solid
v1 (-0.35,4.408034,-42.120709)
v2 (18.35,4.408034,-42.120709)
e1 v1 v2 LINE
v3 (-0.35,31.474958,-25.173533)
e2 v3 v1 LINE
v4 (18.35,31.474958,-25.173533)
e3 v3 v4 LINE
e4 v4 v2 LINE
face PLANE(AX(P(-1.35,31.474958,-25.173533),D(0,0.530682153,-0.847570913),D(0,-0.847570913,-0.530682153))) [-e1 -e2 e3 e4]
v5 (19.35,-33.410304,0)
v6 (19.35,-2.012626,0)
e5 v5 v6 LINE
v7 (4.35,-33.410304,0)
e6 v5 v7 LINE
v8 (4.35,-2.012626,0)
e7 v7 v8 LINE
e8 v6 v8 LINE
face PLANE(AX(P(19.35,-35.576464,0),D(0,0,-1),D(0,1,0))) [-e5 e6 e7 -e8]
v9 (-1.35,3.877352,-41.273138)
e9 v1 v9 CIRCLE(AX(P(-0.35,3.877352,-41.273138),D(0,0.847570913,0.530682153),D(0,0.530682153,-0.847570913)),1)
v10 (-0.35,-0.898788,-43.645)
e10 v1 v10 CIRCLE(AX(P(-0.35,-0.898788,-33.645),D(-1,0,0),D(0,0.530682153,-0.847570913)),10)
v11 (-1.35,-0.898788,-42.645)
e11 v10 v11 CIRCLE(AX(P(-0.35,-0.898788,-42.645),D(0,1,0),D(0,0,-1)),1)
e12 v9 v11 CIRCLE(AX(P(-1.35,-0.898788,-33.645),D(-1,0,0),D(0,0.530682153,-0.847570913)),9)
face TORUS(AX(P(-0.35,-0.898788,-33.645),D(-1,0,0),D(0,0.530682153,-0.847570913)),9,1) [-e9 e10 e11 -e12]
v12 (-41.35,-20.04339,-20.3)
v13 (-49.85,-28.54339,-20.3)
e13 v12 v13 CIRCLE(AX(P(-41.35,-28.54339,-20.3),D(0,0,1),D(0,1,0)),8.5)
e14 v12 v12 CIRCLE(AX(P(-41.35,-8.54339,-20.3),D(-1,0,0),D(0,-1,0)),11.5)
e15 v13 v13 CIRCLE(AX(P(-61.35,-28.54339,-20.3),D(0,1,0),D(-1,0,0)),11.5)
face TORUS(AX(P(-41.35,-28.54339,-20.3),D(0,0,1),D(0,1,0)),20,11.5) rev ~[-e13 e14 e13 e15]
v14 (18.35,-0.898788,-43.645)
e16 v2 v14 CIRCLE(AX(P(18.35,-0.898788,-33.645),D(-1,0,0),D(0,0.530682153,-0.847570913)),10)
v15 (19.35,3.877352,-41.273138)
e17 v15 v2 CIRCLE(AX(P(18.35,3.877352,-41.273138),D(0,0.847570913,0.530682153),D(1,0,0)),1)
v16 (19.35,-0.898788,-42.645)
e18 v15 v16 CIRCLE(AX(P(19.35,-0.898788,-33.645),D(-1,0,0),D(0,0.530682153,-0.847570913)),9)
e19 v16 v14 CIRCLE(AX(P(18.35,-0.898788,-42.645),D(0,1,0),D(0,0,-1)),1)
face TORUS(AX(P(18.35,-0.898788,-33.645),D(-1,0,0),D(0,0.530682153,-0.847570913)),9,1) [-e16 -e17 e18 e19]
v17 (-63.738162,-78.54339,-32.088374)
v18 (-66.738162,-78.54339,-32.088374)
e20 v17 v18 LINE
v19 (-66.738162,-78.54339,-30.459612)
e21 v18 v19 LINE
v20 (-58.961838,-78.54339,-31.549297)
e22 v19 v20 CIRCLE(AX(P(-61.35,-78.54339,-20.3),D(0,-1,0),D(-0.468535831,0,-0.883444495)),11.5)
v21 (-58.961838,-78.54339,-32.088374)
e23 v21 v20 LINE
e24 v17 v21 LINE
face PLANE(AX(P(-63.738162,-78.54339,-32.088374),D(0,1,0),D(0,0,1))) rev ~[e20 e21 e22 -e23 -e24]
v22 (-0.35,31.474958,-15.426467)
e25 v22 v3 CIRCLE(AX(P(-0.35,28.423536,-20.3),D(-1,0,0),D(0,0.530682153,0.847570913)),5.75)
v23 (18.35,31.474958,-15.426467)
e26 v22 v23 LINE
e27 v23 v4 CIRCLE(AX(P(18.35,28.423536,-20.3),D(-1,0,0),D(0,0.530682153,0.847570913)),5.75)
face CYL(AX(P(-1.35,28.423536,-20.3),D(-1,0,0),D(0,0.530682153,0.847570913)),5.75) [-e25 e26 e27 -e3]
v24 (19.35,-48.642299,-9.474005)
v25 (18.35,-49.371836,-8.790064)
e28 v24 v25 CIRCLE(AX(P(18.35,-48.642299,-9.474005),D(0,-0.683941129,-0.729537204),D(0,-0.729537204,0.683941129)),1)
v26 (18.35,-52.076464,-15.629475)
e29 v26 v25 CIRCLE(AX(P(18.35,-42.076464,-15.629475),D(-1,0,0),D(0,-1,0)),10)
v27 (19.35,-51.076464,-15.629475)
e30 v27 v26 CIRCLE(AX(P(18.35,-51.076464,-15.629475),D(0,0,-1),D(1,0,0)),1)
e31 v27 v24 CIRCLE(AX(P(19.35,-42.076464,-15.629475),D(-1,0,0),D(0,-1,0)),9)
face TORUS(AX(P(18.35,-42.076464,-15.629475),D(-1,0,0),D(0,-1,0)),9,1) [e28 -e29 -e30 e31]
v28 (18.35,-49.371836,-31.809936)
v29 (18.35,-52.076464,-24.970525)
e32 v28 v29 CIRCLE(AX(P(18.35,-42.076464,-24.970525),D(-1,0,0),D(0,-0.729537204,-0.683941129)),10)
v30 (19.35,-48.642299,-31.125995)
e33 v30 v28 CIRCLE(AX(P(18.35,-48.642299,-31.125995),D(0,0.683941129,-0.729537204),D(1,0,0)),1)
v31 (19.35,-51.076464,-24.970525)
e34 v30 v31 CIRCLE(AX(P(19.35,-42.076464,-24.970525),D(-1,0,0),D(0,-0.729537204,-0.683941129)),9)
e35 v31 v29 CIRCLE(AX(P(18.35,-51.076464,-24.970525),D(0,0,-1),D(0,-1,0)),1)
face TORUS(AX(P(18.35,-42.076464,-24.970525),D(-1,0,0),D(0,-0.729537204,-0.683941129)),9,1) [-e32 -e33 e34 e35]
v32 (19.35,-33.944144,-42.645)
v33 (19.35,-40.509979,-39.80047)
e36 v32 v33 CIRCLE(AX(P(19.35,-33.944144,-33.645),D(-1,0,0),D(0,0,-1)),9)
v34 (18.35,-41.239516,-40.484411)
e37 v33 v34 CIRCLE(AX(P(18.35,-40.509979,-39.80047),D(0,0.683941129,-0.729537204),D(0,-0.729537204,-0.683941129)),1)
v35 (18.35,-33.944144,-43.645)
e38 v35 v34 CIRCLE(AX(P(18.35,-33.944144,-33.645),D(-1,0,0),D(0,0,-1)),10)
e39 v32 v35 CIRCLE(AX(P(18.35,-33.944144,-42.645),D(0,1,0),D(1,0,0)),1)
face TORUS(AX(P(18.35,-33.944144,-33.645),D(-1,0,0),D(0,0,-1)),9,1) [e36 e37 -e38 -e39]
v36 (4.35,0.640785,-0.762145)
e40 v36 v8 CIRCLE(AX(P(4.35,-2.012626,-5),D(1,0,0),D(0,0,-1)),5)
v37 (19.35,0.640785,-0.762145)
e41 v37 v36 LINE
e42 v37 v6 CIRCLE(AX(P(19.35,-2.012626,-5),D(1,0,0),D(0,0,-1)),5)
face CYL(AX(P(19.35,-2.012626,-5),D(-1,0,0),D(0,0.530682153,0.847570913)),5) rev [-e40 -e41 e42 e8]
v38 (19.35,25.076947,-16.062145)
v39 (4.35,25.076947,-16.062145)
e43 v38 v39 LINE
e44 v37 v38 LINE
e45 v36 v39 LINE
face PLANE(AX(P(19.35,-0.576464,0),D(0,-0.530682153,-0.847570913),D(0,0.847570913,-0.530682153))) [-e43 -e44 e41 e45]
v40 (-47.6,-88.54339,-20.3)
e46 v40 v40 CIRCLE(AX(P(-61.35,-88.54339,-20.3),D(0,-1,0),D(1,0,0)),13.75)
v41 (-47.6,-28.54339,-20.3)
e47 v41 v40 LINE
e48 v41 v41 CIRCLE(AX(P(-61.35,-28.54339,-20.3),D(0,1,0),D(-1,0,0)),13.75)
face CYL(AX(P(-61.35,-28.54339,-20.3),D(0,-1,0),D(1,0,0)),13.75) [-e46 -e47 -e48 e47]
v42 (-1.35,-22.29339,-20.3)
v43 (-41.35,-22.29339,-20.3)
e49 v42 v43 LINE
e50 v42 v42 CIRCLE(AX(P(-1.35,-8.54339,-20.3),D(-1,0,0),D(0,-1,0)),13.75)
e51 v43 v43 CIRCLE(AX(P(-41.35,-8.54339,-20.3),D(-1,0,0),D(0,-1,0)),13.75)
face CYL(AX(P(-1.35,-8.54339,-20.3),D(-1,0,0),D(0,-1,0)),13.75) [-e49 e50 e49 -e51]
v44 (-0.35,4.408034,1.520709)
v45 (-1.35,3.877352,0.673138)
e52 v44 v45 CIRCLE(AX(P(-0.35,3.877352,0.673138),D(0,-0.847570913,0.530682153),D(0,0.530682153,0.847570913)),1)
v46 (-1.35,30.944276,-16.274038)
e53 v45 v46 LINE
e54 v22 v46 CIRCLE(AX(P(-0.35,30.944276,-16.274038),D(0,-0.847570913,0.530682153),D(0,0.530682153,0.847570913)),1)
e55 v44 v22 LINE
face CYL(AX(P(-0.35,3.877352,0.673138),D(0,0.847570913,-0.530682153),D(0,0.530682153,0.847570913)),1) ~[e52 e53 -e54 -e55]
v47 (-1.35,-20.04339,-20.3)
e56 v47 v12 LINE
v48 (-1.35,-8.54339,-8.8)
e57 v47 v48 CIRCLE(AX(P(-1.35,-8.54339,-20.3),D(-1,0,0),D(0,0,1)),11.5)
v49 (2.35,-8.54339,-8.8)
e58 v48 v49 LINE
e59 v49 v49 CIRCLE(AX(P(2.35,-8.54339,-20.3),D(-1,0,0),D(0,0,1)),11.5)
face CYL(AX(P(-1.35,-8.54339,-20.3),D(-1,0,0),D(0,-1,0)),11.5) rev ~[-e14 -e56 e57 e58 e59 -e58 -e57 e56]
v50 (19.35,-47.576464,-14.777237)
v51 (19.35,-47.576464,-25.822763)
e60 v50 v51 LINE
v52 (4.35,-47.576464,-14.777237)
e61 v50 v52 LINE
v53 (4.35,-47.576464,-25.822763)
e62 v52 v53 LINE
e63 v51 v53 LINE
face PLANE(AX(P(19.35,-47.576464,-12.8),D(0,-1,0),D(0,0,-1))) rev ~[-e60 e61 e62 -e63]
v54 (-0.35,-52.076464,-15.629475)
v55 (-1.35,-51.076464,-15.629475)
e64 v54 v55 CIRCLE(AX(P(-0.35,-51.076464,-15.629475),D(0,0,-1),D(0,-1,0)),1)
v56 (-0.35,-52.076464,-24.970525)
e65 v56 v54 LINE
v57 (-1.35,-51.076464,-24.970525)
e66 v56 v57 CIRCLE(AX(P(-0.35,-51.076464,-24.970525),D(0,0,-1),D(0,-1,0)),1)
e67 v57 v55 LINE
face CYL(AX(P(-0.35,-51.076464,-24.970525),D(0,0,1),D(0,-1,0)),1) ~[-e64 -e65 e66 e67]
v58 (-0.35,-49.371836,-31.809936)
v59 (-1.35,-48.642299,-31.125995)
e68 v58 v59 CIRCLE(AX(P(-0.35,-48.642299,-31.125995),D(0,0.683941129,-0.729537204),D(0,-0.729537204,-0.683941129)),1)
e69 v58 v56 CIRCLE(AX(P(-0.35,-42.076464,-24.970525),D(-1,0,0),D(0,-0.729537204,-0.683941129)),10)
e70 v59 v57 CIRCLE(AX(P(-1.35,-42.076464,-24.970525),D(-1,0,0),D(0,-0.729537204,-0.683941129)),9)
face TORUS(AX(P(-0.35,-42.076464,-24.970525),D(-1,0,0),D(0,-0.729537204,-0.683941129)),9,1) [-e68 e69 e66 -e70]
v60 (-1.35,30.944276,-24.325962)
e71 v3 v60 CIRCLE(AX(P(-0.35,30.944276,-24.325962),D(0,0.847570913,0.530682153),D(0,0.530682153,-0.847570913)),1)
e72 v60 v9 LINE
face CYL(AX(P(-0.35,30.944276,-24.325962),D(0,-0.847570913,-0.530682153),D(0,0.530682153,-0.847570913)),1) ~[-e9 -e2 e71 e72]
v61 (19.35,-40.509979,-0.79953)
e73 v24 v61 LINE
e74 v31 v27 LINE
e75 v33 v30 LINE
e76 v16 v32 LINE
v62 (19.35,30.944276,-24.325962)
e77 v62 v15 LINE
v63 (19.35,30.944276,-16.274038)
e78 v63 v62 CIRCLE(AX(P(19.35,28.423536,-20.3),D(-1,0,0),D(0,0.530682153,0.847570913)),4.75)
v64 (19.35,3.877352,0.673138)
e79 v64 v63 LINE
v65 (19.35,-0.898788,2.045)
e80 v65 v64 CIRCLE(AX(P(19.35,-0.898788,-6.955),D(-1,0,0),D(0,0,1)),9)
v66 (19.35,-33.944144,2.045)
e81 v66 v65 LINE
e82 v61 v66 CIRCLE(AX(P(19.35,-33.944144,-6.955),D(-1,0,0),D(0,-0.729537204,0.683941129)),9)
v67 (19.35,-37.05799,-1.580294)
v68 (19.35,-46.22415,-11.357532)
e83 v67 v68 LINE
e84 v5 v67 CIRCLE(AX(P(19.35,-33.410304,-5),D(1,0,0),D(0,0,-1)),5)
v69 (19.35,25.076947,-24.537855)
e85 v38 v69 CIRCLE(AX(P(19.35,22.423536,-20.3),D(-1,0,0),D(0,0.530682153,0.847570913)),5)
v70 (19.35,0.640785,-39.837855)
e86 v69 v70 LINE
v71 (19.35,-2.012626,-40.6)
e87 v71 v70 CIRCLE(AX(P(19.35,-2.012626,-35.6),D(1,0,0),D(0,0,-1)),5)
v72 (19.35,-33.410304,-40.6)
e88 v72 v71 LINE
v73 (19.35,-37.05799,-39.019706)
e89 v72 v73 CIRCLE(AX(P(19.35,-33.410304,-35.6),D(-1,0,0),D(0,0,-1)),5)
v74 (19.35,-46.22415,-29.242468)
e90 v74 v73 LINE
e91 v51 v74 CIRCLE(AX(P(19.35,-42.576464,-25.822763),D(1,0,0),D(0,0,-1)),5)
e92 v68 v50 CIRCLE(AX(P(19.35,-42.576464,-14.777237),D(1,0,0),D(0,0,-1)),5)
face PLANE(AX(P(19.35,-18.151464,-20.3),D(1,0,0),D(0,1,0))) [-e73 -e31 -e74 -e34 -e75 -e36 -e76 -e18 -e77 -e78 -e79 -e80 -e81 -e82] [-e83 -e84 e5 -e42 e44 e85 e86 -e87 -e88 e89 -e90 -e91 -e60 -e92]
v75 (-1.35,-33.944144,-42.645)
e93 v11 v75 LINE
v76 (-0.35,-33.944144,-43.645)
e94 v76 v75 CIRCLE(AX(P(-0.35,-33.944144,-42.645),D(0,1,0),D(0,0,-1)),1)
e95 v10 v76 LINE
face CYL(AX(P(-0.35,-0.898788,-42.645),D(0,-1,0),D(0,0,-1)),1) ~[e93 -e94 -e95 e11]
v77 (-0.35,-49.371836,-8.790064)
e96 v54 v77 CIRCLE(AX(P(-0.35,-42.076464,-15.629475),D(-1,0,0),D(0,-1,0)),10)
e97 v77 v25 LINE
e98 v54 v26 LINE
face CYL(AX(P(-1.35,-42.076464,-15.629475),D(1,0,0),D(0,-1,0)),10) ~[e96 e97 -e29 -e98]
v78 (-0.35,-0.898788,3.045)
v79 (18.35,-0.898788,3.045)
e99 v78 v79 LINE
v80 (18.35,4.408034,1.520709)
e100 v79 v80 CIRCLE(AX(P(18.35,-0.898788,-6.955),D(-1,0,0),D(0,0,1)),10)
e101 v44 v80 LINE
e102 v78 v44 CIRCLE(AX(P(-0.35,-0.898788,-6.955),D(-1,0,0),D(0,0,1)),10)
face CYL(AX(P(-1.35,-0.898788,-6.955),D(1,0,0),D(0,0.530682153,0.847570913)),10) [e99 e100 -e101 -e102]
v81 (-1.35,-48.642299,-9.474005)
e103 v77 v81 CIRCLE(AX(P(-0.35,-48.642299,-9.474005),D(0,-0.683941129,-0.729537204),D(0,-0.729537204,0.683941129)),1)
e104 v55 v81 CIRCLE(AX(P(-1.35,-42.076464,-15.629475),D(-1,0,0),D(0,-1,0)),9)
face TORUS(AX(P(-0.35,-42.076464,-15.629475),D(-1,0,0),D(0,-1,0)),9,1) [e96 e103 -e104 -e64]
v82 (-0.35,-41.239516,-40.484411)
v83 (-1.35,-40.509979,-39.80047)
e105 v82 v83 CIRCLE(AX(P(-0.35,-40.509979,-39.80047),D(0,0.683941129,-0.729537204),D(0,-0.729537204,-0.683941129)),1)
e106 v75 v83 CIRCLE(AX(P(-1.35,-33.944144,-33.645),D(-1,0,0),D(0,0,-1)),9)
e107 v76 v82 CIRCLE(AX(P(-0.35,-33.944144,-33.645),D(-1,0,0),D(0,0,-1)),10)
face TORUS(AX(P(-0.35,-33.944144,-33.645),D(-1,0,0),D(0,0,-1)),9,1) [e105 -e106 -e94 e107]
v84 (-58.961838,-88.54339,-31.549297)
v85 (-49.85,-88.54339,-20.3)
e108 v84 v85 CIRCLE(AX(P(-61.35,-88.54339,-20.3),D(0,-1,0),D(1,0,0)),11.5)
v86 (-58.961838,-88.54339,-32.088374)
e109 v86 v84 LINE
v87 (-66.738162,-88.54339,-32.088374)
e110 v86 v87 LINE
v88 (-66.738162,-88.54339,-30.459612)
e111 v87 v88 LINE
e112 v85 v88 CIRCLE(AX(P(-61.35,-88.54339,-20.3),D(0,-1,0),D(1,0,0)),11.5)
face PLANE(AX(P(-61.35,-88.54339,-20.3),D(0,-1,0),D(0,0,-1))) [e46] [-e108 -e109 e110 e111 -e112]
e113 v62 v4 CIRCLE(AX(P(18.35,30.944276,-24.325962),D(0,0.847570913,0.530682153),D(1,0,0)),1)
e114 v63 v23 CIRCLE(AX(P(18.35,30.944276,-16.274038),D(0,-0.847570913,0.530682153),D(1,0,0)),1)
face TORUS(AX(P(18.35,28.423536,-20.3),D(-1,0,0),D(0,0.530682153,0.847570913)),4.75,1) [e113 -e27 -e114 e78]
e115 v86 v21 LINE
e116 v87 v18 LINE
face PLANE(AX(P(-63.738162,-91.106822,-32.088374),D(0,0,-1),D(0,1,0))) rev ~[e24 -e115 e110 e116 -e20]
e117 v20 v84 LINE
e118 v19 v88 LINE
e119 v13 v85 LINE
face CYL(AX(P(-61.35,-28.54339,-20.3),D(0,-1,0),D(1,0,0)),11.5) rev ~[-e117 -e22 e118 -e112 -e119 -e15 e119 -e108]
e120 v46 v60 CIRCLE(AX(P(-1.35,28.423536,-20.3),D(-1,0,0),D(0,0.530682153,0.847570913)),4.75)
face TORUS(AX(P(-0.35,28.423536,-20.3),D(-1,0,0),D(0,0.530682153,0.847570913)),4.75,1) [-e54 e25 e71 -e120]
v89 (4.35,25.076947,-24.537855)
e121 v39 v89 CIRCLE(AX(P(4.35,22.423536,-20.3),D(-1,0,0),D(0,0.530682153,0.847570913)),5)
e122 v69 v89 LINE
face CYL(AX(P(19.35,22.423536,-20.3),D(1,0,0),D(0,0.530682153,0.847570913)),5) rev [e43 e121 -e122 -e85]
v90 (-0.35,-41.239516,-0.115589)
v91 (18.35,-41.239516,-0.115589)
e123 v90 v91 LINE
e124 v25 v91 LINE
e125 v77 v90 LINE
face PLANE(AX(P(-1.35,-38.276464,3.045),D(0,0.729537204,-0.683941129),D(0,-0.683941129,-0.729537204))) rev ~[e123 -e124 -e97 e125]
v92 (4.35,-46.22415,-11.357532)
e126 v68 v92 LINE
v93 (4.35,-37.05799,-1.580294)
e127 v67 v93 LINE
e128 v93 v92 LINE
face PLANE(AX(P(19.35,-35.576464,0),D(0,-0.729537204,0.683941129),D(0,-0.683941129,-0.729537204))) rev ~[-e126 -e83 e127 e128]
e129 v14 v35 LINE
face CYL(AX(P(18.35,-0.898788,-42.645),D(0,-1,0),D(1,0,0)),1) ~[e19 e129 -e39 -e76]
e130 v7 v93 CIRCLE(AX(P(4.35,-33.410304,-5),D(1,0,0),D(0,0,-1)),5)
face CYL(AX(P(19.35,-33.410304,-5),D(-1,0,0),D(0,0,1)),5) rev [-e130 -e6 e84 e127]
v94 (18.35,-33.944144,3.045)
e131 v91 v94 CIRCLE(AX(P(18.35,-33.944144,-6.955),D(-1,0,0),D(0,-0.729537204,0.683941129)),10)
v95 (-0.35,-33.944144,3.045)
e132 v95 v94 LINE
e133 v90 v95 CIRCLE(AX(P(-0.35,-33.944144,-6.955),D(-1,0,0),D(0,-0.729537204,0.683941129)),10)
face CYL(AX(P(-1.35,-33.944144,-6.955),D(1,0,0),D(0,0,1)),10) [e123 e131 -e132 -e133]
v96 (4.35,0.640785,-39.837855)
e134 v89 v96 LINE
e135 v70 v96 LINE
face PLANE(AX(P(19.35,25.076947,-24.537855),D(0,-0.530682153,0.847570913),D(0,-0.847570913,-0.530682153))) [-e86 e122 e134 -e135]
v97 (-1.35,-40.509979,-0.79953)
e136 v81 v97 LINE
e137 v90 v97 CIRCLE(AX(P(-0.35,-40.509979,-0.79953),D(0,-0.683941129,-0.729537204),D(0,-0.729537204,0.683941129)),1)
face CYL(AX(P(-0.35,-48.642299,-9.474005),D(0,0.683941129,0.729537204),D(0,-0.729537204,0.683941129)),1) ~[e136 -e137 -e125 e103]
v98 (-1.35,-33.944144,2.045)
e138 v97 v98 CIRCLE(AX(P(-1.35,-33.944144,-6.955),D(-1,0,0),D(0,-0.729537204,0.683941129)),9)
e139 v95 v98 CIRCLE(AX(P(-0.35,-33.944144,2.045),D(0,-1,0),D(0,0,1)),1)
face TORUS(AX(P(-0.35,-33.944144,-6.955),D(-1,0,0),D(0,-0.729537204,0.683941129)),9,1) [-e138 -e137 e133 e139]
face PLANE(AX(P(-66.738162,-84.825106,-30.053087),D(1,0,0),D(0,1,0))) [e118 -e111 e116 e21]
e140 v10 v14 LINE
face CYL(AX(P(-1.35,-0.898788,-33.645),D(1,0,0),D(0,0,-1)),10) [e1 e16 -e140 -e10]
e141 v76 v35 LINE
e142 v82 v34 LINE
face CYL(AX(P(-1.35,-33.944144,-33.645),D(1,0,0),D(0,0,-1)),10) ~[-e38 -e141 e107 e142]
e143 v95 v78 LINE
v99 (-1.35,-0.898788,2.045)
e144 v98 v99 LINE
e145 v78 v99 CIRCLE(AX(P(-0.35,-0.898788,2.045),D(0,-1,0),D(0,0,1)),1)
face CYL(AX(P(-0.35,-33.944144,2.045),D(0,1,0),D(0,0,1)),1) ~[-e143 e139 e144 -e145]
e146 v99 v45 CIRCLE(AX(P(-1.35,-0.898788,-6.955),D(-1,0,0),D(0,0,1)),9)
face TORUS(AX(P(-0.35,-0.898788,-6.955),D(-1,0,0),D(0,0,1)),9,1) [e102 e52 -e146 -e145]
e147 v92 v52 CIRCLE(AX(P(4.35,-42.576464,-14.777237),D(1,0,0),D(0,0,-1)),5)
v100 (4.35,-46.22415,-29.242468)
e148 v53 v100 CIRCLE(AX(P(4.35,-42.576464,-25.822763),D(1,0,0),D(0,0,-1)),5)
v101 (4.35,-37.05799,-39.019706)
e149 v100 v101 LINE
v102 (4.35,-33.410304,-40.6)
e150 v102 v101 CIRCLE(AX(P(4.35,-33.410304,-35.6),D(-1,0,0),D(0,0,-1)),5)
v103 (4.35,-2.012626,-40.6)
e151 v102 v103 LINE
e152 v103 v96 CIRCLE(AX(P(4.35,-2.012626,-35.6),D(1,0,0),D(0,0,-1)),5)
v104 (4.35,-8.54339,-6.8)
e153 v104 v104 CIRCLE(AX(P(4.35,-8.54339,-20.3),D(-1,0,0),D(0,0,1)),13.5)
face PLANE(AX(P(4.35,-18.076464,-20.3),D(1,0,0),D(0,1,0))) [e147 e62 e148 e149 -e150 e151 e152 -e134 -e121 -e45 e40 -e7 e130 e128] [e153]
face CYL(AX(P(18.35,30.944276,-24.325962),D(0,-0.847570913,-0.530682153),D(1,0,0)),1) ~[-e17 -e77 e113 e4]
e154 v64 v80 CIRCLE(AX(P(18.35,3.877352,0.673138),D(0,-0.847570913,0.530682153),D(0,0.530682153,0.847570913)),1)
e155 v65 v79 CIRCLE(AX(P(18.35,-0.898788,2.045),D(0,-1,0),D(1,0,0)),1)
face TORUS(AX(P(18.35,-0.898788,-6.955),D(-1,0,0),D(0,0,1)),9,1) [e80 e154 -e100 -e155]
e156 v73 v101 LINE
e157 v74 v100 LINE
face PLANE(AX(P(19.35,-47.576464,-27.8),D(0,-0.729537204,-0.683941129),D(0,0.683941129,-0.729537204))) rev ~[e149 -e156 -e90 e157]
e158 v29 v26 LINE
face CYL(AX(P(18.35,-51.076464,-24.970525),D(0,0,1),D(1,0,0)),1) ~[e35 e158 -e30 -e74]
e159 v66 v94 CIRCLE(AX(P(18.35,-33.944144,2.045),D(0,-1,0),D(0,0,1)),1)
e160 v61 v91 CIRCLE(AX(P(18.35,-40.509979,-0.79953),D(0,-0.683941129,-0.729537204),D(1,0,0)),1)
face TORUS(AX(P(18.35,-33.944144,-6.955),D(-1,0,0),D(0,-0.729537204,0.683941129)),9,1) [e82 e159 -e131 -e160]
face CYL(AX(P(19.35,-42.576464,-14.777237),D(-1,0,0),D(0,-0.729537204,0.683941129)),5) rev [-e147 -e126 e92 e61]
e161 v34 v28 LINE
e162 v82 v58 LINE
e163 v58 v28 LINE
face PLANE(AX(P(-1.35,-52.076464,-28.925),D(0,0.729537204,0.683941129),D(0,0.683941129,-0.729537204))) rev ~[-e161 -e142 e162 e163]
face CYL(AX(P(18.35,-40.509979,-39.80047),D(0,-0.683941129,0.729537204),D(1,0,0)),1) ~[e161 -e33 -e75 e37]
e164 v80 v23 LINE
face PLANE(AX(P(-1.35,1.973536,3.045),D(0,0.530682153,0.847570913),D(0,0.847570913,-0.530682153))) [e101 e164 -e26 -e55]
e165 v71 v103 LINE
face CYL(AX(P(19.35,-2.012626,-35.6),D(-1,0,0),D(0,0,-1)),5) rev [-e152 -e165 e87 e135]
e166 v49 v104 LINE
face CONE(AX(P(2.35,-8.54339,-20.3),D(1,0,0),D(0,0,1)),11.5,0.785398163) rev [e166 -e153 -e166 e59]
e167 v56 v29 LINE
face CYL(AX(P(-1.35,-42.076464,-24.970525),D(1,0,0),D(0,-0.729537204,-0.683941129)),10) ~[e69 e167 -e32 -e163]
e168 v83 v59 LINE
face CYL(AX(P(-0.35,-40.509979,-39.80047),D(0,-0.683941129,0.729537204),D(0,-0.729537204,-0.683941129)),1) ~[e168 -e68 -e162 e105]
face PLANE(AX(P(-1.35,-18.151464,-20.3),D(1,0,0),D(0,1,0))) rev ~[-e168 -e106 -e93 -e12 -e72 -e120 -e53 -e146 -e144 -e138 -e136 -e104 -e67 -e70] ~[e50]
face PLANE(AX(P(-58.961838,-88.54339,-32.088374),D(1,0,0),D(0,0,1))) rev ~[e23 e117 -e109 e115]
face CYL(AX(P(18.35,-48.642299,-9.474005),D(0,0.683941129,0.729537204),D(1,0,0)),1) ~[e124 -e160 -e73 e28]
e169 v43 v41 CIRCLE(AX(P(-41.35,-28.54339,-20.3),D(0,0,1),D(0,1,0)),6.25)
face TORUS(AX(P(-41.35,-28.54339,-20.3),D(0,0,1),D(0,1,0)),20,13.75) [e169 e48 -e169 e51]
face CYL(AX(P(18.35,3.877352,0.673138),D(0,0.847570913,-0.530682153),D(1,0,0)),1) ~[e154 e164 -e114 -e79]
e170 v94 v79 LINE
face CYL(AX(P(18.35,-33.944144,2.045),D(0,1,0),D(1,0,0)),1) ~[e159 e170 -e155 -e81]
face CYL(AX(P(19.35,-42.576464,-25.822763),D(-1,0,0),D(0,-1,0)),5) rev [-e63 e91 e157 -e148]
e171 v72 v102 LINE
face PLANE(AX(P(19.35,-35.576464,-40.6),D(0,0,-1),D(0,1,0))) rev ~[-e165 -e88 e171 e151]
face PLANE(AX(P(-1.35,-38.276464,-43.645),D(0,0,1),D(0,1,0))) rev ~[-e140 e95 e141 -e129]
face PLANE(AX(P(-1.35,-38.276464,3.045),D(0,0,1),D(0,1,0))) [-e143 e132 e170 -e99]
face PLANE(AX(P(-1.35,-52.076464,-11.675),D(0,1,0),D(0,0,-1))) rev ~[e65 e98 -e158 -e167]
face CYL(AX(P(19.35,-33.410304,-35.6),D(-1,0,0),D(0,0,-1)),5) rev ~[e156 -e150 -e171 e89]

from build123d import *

# Parameters (mm, degrees)
BOSS_EXTRUDE1_DEPTH  = 18
SCALE1_SCALE         = 1.15
CUT_EXTRUDE1_DEPTH   = 15
FILLET1_R            = 10
FILLET2_R            = 5
FILLET3_R            = 1
FILLET4_R            = 1
SKETCH9_R            = 11.5
CUT_EXTRUDE2_DEPTH   = 72.03051567
CHAMFER1_SIZE        = 2
SWEEP1_PROFILE_R     = 13.75
CUT_SWEEP2_PROFILE_R = 11.5
SKETCH13_W           = 4.77632411
SKETCH13_H           = 5.487691531
CUT_EXTRUDE3_DEPTH   = 10
SKETCH16_W           = 12.563431947
SKETCH16_H           = 4.070574999
CUT_EXTRUDE5_DEPTH   = 3


with BuildPart() as part:
    # Sketch1 → Boss-Extrude1 (new body)
    with BuildSketch(Plane.YZ):
        with BuildLine():
            Line((-35, -40.6), (0, -40.6))
            Line((0, -40.6), (25.653410767, -24.537854564))
            ThreePointArc((25.653410767, -24.537854564), (28, -20.3), (25.653410767, -16.062145436))
            Line((25.653410767, -16.062145436), (0, 0))
            Line((0, 0), (-35, 0))
            Line((-35, 0), (-47, -12.8))
            Line((-47, -12.8), (-47, -27.8))
            Line((-47, -27.8), (-35, -40.6))
        make_face()
    extrude(amount=BOSS_EXTRUDE1_DEPTH)


with BuildPart() as part_1:
    # Scale1: scaled about (9, -13.156905102, -20.3)
    add(part.part.scale(SCALE1_SCALE).moved(Location((-1.35, 1.973535765, 3.045))))

    # Sketch7 → Cut-Extrude1 (cut)
    with BuildSketch(Plane.YZ.offset(19.35)):
        with BuildLine():
            Line((-35.576464235, -40.6), (-0.576464235, -40.6))
            Line((-0.576464235, -40.6), (25.076946532, -24.537854564))
            ThreePointArc((25.076946532, -24.537854564), (27.423535765, -20.3), (25.076946532, -16.062145436))
            Line((25.076946532, -16.062145436), (-0.576464235, 0))
            Line((-0.576464235, 0), (-35.576464235, 0))
            Line((-35.576464235, 0), (-47.576464235, -12.8))
            Line((-47.576464235, -12.8), (-47.576464235, -27.8))
            Line((-47.576464235, -27.8), (-35.576464235, -40.6))
        make_face()
    extrude(amount=-CUT_EXTRUDE1_DEPTH, mode=Mode.SUBTRACT)

    # Fillet1
    fillet1_edges = [part_1.edges().sort_by_distance(p)[0] for p in [
        (9, 1.973535765, 3.045),
        (9, -38.276464235, 3.045),
        (9, -52.076464235, -11.675),
        (9, -52.076464235, -28.925),
        (9, 1.973535765, -43.645),
        (9, -38.276464235, -43.645),
    ]]
    fillet(fillet1_edges, radius=FILLET1_R)

    # Fillet2
    fillet2_edges = [part_1.edges().sort_by_distance(p)[0] for p in [
        (11.85, -0.576464235, -40.6),
        (11.85, -35.576464235, -40.6),
        (11.85, -47.576464235, -27.8),
        (11.85, -47.576464235, -12.8),
        (11.85, -0.576464235, 0),
        (11.85, -35.576464235, 0),
    ]]
    fillet(fillet2_edges, radius=FILLET2_R)

    # Fillet3
    fillet3_edges = [part_1.edges().sort_by_distance(p)[0] for p in [
        (19.35, -45.305676214, -36.147173889),
        (19.35, -51.375757767, -28.647907393),
        (19.35, -52.076464235, -20.3),
        (19.35, -51.375757767, -11.952092607),
        (19.35, -45.305676214, -4.452826111),
        (19.35, -37.919435742, 2.220895403),
        (19.35, -17.421465972, 3.045),
        (19.35, 1.861910332, 2.656375845),
        (19.35, 17.941495924, -6.952879062),
        (19.35, 34.173535765, -20.3),
        (19.35, 17.941495924, -33.647120938),
        (19.35, 1.861910332, -43.256375845),
        (19.35, -17.421465972, -43.645),
        (19.35, -37.919435742, -42.820895403),
    ]]
    fillet(fillet3_edges, radius=FILLET3_R)

    # Fillet4
    fillet4_edges = [part_1.edges().sort_by_distance(p)[0] for p in [
        (-1.35, 1.861910332, -43.256375845),
        (-1.35, 17.941495924, -33.647120938),
        (-1.35, 34.173535765, -20.3),
        (-1.35, 17.941495924, -6.952879062),
        (-1.35, 1.861910332, 2.656375845),
        (-1.35, -17.421465972, 3.045),
        (-1.35, -37.919435742, 2.220895403),
        (-1.35, -45.305676214, -4.452826111),
        (-1.35, -51.375757767, -11.952092607),
        (-1.35, -52.076464235, -20.3),
        (-1.35, -51.375757767, -28.647907393),
        (-1.35, -45.305676214, -36.147173889),
        (-1.35, -37.919435742, -42.820895403),
        (-1.35, -17.421465972, -43.645),
    ]]
    fillet(fillet4_edges, radius=FILLET4_R)

    # Sketch9 → Cut-Extrude2 (cut, through all)
    with BuildSketch(Plane(origin=(-1.35, 0, 0), x_dir=(0, -1, 0), z_dir=(-1, 0, 0))):
        with Locations((8.54339023, -20.3)):
            Circle(SKETCH9_R)
    extrude(amount=-CUT_EXTRUDE2_DEPTH, mode=Mode.SUBTRACT)

    # Chamfer1
    chamfer1_edges = [part_1.edges().sort_by_distance(p)[0] for p in [
        (4.35, 2.95660977, -20.3),
    ]]
    chamfer(chamfer1_edges, length=CHAMFER1_SIZE)

    # Sweep1: sweep along a path in Sketch11
    with BuildLine(Plane.XY.offset(-20.3)) as sweep1_path:
        Line((-1.35, -8.54339023), (-41.35, -8.54339023))
        ThreePointArc((-41.35, -8.54339023), (-55.492135624, -14.401254607), (-61.35, -28.54339023))
        Line((-61.35, -28.54339023), (-61.35, -88.54339023))
    # Sweep1 profile (on start of the path) → Sweep1 (sweep)
    with BuildSketch(Plane(origin=(-1.35, -8.54339023, -20.3), x_dir=(0, -1, 0), z_dir=(-1, 0, 0))):
        Circle(SWEEP1_PROFILE_R)
    sweep(path=sweep1_path.line)

    # Cut-Sweep2: sweep along a path in Sketch11<3>
    with BuildLine(Plane.XY.offset(-20.3)) as cut_sweep2_path:
        Line((-1.35, -8.54339023), (-41.35, -8.54339023))
        ThreePointArc((-41.35, -8.54339023), (-55.492135624, -14.401254607), (-61.35, -28.54339023))
        Line((-61.35, -28.54339023), (-61.35, -88.54339023))
    # Cut-Sweep2 profile (on start of the path) → Cut-Sweep2 (sweep, cut)
    with BuildSketch(Plane(origin=(-1.35, -8.54339023, -20.3), x_dir=(0, -1, 0), z_dir=(-1, 0, 0))):
        Circle(CUT_SWEEP2_PROFILE_R)
    sweep(path=cut_sweep2_path.line, mode=Mode.SUBTRACT)

    # Sketch13 → Cut-Extrude3 (cut)
    with BuildSketch(Plane.XZ.offset(88.54339023)):
        with Locations((-61.35, -29.344528634)):
            Rectangle(SKETCH13_W, SKETCH13_H)
    extrude(amount=-CUT_EXTRUDE3_DEPTH, mode=Mode.SUBTRACT)

    # Sketch16 → Cut-Extrude5 (cut)
    with BuildSketch(Plane.YZ.offset(-63.738162055)):
        with Locations((-84.825106204, -30.0530869)):
            Rectangle(SKETCH16_W, SKETCH16_H)
    extrude(amount=-CUT_EXTRUDE5_DEPTH, mode=Mode.SUBTRACT)


solid = part_1.part
